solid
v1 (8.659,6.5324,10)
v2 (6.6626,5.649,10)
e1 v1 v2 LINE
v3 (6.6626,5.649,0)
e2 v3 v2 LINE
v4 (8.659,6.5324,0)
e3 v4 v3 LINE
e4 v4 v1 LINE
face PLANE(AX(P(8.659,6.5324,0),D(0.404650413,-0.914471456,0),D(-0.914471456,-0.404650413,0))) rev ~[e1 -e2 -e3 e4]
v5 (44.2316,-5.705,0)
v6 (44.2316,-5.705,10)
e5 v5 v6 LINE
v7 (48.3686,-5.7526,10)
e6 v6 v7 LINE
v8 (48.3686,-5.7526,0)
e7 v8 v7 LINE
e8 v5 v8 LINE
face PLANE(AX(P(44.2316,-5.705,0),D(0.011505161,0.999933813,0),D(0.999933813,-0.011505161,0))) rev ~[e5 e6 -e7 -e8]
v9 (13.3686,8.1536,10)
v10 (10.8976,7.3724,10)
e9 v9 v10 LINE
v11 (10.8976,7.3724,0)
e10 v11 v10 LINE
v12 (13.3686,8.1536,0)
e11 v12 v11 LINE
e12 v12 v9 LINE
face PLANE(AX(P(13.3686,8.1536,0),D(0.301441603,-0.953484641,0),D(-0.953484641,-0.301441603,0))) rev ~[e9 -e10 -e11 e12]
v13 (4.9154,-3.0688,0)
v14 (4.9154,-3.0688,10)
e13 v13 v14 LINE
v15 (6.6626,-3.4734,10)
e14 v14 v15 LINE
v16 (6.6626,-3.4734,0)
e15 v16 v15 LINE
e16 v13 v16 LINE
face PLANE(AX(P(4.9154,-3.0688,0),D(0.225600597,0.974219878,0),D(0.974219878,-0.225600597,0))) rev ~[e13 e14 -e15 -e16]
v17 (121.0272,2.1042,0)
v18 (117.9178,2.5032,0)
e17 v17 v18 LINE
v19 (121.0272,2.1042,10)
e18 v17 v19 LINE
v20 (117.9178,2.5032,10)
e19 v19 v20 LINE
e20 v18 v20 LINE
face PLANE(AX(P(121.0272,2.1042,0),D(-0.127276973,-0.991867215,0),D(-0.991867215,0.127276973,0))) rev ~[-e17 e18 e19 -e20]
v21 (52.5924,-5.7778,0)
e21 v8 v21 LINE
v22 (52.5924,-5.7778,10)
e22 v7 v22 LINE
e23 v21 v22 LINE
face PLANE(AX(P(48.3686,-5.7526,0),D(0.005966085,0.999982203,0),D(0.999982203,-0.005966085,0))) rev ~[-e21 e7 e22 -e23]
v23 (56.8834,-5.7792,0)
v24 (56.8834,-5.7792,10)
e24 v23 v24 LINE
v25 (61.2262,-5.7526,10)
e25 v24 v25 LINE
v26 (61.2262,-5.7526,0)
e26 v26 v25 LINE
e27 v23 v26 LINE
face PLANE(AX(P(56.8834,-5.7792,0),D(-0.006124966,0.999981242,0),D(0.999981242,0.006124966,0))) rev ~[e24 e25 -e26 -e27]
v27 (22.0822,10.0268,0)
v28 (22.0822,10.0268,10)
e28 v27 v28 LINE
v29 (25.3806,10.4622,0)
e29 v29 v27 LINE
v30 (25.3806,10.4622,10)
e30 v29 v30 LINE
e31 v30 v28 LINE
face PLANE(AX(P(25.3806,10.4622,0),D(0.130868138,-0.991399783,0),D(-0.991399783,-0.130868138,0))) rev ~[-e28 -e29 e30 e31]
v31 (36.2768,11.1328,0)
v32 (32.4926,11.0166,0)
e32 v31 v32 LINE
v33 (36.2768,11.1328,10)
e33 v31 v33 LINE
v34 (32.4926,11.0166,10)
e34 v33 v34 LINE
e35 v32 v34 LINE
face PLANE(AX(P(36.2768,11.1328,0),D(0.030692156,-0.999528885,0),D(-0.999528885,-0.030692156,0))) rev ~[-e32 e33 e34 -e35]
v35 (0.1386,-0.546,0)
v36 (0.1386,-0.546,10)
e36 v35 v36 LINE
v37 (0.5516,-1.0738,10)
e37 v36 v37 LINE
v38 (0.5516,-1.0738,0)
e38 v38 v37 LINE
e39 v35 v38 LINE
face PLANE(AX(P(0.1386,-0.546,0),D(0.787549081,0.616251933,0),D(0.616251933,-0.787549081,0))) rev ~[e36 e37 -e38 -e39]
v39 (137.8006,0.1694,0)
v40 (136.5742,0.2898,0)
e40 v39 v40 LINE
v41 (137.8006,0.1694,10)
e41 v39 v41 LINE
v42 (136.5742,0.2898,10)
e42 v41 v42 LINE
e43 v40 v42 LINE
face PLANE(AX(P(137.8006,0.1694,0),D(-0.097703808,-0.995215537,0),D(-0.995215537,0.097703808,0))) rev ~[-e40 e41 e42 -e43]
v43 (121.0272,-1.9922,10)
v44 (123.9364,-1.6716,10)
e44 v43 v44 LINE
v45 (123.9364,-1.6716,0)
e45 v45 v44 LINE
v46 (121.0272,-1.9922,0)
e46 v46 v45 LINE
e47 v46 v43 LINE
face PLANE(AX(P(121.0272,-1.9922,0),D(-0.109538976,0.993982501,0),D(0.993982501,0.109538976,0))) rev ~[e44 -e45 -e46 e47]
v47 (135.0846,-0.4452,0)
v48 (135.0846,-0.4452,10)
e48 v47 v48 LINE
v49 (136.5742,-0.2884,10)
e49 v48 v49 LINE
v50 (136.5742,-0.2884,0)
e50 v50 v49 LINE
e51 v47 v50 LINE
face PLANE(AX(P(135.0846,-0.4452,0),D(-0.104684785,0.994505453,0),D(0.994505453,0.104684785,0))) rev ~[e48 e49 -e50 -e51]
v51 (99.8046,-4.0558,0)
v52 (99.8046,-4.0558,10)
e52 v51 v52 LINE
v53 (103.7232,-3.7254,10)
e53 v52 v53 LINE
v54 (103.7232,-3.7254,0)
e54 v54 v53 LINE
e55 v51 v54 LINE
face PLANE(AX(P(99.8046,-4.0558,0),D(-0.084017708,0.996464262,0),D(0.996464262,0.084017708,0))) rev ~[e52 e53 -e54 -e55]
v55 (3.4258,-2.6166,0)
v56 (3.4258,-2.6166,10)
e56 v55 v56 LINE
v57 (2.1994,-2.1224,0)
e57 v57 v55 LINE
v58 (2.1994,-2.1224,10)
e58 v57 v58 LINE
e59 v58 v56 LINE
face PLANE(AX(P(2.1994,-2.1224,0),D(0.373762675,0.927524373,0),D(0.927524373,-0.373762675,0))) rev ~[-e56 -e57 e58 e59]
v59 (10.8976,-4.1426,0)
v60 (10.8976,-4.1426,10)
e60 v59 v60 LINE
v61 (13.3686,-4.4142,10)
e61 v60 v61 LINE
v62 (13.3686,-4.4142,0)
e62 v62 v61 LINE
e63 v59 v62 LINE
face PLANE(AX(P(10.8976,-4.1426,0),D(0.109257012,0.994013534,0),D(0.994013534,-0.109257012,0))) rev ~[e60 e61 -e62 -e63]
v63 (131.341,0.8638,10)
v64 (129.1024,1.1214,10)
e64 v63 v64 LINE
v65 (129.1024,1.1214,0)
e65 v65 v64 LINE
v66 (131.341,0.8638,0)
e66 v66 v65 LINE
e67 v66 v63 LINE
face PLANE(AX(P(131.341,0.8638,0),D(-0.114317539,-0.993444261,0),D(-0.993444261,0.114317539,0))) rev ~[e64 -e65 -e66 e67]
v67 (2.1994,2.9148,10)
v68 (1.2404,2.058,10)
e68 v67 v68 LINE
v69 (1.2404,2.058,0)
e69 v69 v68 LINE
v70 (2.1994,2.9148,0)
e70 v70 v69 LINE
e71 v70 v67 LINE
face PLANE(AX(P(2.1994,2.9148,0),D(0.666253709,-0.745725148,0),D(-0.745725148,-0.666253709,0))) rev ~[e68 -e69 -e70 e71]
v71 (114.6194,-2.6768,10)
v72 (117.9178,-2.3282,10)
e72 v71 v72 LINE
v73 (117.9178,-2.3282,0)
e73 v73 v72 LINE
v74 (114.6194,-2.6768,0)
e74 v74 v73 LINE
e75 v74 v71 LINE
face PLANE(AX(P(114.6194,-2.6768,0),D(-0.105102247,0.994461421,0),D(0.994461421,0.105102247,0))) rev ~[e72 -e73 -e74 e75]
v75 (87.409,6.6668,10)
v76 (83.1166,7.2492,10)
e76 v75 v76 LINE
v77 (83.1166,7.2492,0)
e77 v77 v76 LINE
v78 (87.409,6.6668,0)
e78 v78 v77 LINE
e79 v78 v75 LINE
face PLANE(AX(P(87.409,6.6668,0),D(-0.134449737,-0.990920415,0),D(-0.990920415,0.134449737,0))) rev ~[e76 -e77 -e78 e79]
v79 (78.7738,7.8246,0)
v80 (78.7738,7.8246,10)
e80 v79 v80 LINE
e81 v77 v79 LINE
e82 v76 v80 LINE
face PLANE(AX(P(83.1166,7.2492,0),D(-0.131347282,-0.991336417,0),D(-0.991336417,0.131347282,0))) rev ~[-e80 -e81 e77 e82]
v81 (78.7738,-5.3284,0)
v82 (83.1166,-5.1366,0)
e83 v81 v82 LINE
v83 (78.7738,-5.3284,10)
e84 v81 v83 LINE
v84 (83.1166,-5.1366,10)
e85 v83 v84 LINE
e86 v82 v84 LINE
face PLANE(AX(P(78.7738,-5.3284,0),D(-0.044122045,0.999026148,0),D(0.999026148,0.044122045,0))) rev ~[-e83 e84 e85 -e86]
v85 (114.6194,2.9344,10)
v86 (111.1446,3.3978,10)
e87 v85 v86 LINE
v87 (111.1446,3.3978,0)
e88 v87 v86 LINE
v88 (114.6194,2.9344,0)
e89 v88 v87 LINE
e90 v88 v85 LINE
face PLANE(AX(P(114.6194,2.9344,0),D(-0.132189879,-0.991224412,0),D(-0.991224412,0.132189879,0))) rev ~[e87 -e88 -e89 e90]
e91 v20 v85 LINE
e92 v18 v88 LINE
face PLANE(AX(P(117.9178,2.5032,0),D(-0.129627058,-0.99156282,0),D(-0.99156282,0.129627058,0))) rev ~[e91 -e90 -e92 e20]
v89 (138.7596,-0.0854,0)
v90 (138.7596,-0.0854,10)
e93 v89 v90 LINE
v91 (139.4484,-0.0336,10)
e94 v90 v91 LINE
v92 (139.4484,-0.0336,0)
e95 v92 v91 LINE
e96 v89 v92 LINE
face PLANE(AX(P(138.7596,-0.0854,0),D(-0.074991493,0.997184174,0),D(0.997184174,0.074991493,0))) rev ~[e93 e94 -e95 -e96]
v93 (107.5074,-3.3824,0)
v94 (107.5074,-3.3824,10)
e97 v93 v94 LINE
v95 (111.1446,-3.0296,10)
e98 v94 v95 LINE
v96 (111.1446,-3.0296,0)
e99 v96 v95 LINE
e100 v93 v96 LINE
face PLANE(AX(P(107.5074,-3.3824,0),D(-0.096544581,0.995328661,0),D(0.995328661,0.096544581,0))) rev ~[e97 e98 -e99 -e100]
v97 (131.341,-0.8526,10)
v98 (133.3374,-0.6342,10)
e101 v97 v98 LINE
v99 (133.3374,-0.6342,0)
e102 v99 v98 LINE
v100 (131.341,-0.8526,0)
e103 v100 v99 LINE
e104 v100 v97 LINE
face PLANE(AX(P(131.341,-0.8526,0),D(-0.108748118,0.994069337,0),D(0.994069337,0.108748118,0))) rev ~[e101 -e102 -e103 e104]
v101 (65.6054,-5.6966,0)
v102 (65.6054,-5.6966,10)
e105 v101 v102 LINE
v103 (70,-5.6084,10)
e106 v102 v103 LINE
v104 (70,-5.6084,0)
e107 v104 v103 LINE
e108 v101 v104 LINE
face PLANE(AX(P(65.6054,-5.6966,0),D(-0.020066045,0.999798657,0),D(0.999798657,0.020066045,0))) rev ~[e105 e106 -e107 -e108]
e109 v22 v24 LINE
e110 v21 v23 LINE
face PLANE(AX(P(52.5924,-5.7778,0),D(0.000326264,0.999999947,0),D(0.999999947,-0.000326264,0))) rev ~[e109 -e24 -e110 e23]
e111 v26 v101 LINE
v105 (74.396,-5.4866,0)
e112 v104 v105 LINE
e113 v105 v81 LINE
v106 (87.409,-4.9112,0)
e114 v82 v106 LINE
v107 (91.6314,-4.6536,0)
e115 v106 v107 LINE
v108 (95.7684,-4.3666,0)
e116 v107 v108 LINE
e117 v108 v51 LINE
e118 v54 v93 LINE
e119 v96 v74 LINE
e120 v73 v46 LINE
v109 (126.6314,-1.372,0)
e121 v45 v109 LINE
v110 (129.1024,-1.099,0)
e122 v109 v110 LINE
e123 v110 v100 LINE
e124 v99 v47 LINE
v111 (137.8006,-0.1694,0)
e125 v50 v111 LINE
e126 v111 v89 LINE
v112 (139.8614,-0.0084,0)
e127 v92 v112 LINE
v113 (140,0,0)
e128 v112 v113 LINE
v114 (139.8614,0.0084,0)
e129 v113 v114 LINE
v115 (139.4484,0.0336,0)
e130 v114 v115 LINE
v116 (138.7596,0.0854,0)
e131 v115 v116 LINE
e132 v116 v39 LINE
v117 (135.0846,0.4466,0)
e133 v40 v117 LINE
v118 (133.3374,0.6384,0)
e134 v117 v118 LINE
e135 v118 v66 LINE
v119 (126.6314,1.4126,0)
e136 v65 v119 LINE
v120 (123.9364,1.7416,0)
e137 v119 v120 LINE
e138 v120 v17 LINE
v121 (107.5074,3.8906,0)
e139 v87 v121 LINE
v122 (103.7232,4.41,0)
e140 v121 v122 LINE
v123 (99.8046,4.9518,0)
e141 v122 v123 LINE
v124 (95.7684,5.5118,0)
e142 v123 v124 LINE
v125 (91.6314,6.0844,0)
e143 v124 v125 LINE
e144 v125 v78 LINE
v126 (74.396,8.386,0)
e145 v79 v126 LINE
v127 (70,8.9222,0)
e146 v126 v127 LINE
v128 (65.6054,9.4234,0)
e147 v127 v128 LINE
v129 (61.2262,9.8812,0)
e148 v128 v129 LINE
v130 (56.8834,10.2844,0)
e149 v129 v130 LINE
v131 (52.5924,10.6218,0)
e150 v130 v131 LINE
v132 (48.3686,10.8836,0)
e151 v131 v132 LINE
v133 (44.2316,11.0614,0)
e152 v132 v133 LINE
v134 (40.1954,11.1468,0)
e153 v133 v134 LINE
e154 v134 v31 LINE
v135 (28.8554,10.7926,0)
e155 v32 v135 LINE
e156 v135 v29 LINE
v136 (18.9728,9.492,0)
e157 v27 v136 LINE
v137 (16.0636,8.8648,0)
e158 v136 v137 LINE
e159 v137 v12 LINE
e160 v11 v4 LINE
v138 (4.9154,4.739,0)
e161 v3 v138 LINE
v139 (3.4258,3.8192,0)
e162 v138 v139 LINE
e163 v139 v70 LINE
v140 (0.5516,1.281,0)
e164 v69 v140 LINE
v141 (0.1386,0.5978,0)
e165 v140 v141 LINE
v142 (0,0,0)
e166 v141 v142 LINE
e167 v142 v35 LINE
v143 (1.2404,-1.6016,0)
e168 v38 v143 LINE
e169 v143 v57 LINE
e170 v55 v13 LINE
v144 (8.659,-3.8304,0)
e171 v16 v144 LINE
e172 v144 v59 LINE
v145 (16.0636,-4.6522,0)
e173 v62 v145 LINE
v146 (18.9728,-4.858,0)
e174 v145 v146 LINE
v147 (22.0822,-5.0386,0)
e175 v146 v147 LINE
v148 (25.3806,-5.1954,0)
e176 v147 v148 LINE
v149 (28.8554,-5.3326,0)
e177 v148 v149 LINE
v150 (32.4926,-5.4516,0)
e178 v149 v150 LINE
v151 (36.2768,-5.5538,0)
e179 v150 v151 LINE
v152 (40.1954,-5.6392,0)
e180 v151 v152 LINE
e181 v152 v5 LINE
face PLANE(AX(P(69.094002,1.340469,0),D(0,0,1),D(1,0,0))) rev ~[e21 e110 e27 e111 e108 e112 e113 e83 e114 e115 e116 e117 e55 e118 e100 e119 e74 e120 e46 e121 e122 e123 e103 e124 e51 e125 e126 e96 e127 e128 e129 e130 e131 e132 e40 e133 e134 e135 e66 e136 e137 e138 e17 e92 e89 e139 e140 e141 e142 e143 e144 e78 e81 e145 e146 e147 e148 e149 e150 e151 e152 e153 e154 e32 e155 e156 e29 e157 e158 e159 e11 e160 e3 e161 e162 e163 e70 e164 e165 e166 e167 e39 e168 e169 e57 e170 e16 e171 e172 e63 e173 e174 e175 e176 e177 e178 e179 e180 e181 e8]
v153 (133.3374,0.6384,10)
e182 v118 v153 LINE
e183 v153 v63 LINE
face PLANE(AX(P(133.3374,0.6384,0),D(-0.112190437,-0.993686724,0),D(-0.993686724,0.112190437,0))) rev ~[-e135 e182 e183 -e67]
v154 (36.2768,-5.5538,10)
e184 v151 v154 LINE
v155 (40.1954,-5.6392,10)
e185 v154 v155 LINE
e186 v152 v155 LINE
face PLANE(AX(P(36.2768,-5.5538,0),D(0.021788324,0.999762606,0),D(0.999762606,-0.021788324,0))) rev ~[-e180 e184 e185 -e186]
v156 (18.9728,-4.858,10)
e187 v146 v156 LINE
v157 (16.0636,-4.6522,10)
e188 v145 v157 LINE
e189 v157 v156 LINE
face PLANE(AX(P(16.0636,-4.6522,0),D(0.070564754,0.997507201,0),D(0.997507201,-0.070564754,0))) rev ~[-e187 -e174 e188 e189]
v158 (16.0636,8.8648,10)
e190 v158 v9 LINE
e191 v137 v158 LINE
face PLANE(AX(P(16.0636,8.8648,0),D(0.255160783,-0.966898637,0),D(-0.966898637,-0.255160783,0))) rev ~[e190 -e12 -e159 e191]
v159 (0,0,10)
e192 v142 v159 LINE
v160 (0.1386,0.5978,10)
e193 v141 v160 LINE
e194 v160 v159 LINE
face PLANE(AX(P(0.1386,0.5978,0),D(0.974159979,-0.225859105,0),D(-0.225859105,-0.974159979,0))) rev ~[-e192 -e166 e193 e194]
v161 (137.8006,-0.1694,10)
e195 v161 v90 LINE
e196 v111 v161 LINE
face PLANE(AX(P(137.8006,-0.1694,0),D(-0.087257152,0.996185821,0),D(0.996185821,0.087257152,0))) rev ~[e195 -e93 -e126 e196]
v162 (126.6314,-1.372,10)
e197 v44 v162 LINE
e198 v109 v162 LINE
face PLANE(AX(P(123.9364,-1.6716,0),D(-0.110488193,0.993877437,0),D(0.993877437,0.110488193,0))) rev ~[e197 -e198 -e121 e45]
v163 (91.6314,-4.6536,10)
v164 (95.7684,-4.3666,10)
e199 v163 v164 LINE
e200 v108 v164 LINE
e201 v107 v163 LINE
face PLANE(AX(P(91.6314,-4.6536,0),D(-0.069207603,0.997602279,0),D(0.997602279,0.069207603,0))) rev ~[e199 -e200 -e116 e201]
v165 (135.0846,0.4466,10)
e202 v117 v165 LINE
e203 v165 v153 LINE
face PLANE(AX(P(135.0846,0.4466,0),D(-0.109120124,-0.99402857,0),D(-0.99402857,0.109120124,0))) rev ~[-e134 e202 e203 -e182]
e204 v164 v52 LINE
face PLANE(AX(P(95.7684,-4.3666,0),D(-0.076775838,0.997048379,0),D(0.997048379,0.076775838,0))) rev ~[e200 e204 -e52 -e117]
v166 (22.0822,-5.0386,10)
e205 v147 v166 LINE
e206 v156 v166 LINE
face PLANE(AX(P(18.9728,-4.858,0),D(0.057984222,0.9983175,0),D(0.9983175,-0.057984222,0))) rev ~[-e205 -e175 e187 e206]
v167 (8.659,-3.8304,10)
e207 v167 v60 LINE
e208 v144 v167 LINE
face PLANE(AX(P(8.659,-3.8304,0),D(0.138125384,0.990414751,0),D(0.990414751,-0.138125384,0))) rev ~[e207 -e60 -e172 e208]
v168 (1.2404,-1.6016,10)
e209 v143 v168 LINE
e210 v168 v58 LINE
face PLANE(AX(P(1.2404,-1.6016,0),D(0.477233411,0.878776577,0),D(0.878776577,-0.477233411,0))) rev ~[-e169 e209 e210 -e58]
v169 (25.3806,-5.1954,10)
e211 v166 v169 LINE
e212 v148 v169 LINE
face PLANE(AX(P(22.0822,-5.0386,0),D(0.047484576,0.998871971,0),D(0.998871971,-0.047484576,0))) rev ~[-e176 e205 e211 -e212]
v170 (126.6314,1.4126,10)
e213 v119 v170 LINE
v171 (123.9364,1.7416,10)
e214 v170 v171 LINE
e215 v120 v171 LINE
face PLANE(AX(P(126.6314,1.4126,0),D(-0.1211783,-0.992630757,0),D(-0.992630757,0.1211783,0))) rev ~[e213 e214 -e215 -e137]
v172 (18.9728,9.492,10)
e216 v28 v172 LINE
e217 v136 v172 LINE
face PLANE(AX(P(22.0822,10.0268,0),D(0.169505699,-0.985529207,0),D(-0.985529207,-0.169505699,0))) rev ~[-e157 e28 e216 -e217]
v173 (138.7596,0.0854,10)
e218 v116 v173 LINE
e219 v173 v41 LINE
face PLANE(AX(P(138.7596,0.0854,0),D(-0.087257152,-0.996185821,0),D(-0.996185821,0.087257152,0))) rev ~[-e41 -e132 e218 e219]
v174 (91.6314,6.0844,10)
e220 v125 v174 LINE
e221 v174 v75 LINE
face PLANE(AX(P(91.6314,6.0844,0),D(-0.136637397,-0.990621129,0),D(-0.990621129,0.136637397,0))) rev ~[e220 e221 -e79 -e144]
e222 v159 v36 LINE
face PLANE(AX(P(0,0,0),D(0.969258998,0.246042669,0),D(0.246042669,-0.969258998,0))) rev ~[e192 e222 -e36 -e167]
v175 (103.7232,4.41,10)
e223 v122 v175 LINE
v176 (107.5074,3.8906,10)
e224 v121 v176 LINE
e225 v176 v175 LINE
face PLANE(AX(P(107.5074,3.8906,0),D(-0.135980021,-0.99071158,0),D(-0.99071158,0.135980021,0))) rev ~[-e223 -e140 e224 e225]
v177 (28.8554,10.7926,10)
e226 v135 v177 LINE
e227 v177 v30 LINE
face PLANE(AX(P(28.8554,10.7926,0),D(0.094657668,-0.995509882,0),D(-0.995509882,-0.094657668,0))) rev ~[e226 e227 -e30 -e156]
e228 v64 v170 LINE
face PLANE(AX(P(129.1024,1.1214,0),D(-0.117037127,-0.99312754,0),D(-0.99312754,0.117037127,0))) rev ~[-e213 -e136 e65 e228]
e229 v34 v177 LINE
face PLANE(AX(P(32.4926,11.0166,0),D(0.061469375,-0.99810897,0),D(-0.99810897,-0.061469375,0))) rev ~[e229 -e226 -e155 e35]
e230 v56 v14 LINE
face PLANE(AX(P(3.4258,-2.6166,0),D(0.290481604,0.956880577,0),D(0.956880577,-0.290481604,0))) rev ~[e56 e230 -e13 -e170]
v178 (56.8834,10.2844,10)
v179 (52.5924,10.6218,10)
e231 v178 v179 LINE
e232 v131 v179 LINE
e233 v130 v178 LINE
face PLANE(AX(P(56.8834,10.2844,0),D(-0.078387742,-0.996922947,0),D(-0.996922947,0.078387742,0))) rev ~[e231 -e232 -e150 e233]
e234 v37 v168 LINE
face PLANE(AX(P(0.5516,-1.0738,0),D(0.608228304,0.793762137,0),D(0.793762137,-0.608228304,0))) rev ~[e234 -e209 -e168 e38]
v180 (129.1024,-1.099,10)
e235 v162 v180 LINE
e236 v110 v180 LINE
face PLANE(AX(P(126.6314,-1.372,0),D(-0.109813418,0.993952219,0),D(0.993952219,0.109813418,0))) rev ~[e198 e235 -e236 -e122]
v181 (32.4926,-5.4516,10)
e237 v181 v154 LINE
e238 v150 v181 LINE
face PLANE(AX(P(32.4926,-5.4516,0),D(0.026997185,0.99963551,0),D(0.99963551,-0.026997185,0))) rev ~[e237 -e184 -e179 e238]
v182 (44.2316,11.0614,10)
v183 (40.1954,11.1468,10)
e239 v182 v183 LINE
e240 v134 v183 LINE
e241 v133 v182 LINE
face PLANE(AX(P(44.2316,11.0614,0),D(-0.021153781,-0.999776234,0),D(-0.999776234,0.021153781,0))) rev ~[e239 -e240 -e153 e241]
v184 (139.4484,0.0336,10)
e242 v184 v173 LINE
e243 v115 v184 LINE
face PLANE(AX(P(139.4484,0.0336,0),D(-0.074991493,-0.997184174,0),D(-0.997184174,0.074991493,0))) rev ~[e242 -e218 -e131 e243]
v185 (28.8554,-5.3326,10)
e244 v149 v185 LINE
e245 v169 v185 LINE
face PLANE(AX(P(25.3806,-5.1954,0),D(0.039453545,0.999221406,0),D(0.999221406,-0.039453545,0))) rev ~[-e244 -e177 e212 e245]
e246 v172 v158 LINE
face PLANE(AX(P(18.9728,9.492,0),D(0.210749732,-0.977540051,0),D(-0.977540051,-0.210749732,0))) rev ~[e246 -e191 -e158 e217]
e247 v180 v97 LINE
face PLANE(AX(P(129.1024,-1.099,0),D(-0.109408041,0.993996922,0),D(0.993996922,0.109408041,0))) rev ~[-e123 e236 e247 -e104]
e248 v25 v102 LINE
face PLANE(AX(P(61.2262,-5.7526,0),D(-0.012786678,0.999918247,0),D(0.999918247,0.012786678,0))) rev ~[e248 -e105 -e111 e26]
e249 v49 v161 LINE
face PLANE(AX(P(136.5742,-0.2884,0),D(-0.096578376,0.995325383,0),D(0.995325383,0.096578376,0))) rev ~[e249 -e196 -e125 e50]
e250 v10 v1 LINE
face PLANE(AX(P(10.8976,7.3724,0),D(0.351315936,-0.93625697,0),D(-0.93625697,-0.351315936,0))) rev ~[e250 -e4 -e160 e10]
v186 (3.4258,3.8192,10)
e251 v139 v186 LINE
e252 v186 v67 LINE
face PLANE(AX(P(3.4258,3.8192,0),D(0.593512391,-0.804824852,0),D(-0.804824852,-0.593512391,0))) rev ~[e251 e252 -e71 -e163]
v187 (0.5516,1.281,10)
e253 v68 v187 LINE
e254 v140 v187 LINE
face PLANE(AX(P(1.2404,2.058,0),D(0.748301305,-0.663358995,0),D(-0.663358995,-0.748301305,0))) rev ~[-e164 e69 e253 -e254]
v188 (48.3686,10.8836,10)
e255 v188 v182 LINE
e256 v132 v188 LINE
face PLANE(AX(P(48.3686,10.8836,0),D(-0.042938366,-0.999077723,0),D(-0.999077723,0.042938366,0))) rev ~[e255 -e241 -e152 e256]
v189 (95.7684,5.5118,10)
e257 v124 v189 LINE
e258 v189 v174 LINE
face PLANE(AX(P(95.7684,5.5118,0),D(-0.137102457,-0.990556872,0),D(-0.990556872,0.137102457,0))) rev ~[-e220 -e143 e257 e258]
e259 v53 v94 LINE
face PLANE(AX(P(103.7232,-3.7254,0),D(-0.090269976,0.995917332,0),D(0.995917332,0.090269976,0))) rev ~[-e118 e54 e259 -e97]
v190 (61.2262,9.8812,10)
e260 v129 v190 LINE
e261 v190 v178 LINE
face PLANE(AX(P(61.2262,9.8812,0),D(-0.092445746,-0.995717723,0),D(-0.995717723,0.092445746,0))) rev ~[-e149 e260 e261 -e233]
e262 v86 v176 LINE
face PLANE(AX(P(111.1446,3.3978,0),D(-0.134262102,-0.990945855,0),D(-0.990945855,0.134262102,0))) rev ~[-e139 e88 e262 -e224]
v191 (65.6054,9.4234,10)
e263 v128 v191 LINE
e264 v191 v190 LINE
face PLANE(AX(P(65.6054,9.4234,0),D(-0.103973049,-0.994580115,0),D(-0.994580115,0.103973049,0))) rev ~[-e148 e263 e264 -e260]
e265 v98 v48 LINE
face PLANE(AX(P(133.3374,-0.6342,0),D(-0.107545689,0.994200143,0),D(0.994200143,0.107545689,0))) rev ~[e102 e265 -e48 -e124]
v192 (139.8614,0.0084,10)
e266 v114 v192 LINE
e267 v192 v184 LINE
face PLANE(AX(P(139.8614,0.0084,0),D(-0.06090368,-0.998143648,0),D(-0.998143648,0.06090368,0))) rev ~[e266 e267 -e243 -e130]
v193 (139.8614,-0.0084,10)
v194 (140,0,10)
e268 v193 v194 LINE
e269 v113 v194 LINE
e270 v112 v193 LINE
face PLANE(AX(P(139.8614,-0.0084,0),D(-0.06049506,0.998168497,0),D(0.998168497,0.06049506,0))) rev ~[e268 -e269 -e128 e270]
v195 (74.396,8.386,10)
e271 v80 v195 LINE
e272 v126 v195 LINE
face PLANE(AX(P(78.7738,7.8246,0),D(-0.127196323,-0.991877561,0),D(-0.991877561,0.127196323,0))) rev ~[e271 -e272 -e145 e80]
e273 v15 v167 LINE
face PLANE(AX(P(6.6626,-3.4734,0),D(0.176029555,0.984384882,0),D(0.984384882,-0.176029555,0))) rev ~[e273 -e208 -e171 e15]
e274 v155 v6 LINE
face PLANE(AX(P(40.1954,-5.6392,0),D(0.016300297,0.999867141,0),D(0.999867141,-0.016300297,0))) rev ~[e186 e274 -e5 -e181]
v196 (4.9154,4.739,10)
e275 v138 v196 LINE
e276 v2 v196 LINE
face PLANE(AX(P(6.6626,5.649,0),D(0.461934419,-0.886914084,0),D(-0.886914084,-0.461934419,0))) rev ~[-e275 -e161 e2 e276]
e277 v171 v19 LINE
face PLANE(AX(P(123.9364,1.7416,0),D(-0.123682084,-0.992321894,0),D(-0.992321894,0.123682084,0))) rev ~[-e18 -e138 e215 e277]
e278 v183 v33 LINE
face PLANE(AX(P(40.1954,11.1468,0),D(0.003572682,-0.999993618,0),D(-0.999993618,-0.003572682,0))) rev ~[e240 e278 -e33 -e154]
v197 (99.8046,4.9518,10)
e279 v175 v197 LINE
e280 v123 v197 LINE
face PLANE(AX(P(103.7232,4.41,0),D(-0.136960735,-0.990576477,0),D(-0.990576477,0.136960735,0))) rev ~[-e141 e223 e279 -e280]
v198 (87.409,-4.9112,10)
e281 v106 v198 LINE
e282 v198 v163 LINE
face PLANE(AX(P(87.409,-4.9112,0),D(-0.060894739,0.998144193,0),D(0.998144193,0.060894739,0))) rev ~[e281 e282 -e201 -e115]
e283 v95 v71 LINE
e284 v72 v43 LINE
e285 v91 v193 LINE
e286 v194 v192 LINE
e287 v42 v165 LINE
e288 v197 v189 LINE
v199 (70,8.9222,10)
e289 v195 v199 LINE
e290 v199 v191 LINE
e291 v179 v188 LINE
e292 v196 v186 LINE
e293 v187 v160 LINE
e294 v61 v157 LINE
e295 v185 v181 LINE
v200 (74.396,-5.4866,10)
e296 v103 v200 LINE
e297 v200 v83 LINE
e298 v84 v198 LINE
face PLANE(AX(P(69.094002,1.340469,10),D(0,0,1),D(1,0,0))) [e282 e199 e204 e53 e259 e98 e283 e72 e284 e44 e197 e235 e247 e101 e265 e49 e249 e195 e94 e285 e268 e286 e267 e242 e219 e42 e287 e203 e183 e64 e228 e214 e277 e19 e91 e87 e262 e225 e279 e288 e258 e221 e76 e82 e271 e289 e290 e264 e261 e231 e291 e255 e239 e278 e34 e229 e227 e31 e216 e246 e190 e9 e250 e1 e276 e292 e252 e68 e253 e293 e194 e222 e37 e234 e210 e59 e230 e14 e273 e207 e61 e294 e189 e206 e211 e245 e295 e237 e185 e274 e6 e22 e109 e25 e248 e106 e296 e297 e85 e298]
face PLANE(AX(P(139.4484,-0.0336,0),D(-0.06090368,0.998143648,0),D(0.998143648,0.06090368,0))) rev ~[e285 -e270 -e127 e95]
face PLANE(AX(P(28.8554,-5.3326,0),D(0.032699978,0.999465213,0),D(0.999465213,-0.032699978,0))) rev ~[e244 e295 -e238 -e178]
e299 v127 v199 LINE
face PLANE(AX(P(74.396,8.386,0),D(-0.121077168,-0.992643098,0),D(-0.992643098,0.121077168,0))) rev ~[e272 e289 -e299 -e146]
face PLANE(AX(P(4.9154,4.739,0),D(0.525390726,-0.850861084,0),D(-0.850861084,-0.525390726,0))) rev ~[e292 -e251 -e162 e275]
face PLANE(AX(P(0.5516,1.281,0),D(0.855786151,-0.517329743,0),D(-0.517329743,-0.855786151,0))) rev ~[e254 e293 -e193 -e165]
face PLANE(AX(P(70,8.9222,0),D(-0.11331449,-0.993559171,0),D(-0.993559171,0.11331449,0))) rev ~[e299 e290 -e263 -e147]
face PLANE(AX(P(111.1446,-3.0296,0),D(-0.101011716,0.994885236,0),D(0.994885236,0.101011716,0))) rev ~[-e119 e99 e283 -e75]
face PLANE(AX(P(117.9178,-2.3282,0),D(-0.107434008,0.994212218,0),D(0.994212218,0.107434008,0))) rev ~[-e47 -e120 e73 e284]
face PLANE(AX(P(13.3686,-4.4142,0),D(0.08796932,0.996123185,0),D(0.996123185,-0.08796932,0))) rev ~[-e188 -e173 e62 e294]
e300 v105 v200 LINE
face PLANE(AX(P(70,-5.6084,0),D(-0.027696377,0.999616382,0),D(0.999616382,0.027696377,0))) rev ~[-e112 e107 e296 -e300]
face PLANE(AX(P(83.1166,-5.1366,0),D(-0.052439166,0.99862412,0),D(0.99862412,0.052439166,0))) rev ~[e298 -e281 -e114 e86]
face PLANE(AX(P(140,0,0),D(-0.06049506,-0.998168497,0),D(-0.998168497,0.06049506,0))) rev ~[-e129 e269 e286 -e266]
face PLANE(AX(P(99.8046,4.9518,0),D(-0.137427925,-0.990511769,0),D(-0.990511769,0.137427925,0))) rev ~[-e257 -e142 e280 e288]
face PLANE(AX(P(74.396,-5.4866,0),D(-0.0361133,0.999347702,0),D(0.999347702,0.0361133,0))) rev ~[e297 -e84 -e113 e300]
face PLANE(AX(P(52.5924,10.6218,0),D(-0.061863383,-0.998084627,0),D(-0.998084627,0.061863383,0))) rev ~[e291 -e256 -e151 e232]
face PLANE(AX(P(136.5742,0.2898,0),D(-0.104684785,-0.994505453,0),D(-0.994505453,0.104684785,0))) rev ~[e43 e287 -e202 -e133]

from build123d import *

# Parameters (mm, degrees)
PAD_DEPTH = 10


with BuildPart() as part:
    # Sketch001 → Pad (new body)
    with BuildSketch(Plane.XY):
        Polygon((140, 0), (139.8614, 0.0084), (139.4484, 0.0336), (138.7596, 0.0854), (137.8006, 0.1694), (136.5742, 0.2898), (135.0846, 0.4466), (133.3374, 0.6384), (131.341, 0.8638), (129.1024, 1.1214), (126.6314, 1.4126), (123.9364, 1.7416), (121.0272, 2.1042), (117.9178, 2.5032), (114.6194, 2.9344), (111.1446, 3.3978), (107.5074, 3.8906), (103.7232, 4.41), (99.8046, 4.9518), (95.7684, 5.5118), (91.6314, 6.0844), (87.409, 6.6668), (83.1166, 7.2492), (78.7738, 7.8246), (74.396, 8.386), (70, 8.9222), (65.6054, 9.4234), (61.2262, 9.8812), (56.8834, 10.2844), (52.5924, 10.6218), (48.3686, 10.8836), (44.2316, 11.0614), (40.1954, 11.1468), (36.2768, 11.1328), (32.4926, 11.0166), (28.8554, 10.7926), (25.3806, 10.4622), (22.0822, 10.0268), (18.9728, 9.492), (16.0636, 8.8648), (13.3686, 8.1536), (10.8976, 7.3724), (8.659, 6.5324), (6.6626, 5.649), (4.9154, 4.739), (3.4258, 3.8192), (2.1994, 2.9148), (1.2404, 2.058), (0.5516, 1.281), (0.1386, 0.5978), (0, 0), (0.1386, -0.546), (0.5516, -1.0738), (1.2404, -1.6016), (2.1994, -2.1224), (3.4258, -2.6166), (4.9154, -3.0688), (6.6626, -3.4734), (8.659, -3.8304), (10.8976, -4.1426), (13.3686, -4.4142), (16.0636, -4.6522), (18.9728, -4.858), (22.0822, -5.0386), (25.3806, -5.1954), (28.8554, -5.3326), (32.4926, -5.4516), (36.2768, -5.5538), (40.1954, -5.6392), (44.2316, -5.705), (48.3686, -5.7526), (52.5924, -5.7778), (56.8834, -5.7792), (61.2262, -5.7526), (65.6054, -5.6966), (70, -5.6084), (74.396, -5.4866), (78.7738, -5.3284), (83.1166, -5.1366), (87.409, -4.9112), (91.6314, -4.6536), (95.7684, -4.3666), (99.8046, -4.0558), (103.7232, -3.7254), (107.5074, -3.3824), (111.1446, -3.0296), (114.6194, -2.6768), (117.9178, -2.3282), (121.0272, -1.9922), (123.9364, -1.6716), (126.6314, -1.372), (129.1024, -1.099), (131.341, -0.8526), (133.3374, -0.6342), (135.0846, -0.4452), (136.5742, -0.2884), (137.8006, -0.1694), (138.7596, -0.0854), (139.4484, -0.0336), (139.8614, -0.0084), align=None)
    extrude(amount=PAD_DEPTH)


solid = part.part
